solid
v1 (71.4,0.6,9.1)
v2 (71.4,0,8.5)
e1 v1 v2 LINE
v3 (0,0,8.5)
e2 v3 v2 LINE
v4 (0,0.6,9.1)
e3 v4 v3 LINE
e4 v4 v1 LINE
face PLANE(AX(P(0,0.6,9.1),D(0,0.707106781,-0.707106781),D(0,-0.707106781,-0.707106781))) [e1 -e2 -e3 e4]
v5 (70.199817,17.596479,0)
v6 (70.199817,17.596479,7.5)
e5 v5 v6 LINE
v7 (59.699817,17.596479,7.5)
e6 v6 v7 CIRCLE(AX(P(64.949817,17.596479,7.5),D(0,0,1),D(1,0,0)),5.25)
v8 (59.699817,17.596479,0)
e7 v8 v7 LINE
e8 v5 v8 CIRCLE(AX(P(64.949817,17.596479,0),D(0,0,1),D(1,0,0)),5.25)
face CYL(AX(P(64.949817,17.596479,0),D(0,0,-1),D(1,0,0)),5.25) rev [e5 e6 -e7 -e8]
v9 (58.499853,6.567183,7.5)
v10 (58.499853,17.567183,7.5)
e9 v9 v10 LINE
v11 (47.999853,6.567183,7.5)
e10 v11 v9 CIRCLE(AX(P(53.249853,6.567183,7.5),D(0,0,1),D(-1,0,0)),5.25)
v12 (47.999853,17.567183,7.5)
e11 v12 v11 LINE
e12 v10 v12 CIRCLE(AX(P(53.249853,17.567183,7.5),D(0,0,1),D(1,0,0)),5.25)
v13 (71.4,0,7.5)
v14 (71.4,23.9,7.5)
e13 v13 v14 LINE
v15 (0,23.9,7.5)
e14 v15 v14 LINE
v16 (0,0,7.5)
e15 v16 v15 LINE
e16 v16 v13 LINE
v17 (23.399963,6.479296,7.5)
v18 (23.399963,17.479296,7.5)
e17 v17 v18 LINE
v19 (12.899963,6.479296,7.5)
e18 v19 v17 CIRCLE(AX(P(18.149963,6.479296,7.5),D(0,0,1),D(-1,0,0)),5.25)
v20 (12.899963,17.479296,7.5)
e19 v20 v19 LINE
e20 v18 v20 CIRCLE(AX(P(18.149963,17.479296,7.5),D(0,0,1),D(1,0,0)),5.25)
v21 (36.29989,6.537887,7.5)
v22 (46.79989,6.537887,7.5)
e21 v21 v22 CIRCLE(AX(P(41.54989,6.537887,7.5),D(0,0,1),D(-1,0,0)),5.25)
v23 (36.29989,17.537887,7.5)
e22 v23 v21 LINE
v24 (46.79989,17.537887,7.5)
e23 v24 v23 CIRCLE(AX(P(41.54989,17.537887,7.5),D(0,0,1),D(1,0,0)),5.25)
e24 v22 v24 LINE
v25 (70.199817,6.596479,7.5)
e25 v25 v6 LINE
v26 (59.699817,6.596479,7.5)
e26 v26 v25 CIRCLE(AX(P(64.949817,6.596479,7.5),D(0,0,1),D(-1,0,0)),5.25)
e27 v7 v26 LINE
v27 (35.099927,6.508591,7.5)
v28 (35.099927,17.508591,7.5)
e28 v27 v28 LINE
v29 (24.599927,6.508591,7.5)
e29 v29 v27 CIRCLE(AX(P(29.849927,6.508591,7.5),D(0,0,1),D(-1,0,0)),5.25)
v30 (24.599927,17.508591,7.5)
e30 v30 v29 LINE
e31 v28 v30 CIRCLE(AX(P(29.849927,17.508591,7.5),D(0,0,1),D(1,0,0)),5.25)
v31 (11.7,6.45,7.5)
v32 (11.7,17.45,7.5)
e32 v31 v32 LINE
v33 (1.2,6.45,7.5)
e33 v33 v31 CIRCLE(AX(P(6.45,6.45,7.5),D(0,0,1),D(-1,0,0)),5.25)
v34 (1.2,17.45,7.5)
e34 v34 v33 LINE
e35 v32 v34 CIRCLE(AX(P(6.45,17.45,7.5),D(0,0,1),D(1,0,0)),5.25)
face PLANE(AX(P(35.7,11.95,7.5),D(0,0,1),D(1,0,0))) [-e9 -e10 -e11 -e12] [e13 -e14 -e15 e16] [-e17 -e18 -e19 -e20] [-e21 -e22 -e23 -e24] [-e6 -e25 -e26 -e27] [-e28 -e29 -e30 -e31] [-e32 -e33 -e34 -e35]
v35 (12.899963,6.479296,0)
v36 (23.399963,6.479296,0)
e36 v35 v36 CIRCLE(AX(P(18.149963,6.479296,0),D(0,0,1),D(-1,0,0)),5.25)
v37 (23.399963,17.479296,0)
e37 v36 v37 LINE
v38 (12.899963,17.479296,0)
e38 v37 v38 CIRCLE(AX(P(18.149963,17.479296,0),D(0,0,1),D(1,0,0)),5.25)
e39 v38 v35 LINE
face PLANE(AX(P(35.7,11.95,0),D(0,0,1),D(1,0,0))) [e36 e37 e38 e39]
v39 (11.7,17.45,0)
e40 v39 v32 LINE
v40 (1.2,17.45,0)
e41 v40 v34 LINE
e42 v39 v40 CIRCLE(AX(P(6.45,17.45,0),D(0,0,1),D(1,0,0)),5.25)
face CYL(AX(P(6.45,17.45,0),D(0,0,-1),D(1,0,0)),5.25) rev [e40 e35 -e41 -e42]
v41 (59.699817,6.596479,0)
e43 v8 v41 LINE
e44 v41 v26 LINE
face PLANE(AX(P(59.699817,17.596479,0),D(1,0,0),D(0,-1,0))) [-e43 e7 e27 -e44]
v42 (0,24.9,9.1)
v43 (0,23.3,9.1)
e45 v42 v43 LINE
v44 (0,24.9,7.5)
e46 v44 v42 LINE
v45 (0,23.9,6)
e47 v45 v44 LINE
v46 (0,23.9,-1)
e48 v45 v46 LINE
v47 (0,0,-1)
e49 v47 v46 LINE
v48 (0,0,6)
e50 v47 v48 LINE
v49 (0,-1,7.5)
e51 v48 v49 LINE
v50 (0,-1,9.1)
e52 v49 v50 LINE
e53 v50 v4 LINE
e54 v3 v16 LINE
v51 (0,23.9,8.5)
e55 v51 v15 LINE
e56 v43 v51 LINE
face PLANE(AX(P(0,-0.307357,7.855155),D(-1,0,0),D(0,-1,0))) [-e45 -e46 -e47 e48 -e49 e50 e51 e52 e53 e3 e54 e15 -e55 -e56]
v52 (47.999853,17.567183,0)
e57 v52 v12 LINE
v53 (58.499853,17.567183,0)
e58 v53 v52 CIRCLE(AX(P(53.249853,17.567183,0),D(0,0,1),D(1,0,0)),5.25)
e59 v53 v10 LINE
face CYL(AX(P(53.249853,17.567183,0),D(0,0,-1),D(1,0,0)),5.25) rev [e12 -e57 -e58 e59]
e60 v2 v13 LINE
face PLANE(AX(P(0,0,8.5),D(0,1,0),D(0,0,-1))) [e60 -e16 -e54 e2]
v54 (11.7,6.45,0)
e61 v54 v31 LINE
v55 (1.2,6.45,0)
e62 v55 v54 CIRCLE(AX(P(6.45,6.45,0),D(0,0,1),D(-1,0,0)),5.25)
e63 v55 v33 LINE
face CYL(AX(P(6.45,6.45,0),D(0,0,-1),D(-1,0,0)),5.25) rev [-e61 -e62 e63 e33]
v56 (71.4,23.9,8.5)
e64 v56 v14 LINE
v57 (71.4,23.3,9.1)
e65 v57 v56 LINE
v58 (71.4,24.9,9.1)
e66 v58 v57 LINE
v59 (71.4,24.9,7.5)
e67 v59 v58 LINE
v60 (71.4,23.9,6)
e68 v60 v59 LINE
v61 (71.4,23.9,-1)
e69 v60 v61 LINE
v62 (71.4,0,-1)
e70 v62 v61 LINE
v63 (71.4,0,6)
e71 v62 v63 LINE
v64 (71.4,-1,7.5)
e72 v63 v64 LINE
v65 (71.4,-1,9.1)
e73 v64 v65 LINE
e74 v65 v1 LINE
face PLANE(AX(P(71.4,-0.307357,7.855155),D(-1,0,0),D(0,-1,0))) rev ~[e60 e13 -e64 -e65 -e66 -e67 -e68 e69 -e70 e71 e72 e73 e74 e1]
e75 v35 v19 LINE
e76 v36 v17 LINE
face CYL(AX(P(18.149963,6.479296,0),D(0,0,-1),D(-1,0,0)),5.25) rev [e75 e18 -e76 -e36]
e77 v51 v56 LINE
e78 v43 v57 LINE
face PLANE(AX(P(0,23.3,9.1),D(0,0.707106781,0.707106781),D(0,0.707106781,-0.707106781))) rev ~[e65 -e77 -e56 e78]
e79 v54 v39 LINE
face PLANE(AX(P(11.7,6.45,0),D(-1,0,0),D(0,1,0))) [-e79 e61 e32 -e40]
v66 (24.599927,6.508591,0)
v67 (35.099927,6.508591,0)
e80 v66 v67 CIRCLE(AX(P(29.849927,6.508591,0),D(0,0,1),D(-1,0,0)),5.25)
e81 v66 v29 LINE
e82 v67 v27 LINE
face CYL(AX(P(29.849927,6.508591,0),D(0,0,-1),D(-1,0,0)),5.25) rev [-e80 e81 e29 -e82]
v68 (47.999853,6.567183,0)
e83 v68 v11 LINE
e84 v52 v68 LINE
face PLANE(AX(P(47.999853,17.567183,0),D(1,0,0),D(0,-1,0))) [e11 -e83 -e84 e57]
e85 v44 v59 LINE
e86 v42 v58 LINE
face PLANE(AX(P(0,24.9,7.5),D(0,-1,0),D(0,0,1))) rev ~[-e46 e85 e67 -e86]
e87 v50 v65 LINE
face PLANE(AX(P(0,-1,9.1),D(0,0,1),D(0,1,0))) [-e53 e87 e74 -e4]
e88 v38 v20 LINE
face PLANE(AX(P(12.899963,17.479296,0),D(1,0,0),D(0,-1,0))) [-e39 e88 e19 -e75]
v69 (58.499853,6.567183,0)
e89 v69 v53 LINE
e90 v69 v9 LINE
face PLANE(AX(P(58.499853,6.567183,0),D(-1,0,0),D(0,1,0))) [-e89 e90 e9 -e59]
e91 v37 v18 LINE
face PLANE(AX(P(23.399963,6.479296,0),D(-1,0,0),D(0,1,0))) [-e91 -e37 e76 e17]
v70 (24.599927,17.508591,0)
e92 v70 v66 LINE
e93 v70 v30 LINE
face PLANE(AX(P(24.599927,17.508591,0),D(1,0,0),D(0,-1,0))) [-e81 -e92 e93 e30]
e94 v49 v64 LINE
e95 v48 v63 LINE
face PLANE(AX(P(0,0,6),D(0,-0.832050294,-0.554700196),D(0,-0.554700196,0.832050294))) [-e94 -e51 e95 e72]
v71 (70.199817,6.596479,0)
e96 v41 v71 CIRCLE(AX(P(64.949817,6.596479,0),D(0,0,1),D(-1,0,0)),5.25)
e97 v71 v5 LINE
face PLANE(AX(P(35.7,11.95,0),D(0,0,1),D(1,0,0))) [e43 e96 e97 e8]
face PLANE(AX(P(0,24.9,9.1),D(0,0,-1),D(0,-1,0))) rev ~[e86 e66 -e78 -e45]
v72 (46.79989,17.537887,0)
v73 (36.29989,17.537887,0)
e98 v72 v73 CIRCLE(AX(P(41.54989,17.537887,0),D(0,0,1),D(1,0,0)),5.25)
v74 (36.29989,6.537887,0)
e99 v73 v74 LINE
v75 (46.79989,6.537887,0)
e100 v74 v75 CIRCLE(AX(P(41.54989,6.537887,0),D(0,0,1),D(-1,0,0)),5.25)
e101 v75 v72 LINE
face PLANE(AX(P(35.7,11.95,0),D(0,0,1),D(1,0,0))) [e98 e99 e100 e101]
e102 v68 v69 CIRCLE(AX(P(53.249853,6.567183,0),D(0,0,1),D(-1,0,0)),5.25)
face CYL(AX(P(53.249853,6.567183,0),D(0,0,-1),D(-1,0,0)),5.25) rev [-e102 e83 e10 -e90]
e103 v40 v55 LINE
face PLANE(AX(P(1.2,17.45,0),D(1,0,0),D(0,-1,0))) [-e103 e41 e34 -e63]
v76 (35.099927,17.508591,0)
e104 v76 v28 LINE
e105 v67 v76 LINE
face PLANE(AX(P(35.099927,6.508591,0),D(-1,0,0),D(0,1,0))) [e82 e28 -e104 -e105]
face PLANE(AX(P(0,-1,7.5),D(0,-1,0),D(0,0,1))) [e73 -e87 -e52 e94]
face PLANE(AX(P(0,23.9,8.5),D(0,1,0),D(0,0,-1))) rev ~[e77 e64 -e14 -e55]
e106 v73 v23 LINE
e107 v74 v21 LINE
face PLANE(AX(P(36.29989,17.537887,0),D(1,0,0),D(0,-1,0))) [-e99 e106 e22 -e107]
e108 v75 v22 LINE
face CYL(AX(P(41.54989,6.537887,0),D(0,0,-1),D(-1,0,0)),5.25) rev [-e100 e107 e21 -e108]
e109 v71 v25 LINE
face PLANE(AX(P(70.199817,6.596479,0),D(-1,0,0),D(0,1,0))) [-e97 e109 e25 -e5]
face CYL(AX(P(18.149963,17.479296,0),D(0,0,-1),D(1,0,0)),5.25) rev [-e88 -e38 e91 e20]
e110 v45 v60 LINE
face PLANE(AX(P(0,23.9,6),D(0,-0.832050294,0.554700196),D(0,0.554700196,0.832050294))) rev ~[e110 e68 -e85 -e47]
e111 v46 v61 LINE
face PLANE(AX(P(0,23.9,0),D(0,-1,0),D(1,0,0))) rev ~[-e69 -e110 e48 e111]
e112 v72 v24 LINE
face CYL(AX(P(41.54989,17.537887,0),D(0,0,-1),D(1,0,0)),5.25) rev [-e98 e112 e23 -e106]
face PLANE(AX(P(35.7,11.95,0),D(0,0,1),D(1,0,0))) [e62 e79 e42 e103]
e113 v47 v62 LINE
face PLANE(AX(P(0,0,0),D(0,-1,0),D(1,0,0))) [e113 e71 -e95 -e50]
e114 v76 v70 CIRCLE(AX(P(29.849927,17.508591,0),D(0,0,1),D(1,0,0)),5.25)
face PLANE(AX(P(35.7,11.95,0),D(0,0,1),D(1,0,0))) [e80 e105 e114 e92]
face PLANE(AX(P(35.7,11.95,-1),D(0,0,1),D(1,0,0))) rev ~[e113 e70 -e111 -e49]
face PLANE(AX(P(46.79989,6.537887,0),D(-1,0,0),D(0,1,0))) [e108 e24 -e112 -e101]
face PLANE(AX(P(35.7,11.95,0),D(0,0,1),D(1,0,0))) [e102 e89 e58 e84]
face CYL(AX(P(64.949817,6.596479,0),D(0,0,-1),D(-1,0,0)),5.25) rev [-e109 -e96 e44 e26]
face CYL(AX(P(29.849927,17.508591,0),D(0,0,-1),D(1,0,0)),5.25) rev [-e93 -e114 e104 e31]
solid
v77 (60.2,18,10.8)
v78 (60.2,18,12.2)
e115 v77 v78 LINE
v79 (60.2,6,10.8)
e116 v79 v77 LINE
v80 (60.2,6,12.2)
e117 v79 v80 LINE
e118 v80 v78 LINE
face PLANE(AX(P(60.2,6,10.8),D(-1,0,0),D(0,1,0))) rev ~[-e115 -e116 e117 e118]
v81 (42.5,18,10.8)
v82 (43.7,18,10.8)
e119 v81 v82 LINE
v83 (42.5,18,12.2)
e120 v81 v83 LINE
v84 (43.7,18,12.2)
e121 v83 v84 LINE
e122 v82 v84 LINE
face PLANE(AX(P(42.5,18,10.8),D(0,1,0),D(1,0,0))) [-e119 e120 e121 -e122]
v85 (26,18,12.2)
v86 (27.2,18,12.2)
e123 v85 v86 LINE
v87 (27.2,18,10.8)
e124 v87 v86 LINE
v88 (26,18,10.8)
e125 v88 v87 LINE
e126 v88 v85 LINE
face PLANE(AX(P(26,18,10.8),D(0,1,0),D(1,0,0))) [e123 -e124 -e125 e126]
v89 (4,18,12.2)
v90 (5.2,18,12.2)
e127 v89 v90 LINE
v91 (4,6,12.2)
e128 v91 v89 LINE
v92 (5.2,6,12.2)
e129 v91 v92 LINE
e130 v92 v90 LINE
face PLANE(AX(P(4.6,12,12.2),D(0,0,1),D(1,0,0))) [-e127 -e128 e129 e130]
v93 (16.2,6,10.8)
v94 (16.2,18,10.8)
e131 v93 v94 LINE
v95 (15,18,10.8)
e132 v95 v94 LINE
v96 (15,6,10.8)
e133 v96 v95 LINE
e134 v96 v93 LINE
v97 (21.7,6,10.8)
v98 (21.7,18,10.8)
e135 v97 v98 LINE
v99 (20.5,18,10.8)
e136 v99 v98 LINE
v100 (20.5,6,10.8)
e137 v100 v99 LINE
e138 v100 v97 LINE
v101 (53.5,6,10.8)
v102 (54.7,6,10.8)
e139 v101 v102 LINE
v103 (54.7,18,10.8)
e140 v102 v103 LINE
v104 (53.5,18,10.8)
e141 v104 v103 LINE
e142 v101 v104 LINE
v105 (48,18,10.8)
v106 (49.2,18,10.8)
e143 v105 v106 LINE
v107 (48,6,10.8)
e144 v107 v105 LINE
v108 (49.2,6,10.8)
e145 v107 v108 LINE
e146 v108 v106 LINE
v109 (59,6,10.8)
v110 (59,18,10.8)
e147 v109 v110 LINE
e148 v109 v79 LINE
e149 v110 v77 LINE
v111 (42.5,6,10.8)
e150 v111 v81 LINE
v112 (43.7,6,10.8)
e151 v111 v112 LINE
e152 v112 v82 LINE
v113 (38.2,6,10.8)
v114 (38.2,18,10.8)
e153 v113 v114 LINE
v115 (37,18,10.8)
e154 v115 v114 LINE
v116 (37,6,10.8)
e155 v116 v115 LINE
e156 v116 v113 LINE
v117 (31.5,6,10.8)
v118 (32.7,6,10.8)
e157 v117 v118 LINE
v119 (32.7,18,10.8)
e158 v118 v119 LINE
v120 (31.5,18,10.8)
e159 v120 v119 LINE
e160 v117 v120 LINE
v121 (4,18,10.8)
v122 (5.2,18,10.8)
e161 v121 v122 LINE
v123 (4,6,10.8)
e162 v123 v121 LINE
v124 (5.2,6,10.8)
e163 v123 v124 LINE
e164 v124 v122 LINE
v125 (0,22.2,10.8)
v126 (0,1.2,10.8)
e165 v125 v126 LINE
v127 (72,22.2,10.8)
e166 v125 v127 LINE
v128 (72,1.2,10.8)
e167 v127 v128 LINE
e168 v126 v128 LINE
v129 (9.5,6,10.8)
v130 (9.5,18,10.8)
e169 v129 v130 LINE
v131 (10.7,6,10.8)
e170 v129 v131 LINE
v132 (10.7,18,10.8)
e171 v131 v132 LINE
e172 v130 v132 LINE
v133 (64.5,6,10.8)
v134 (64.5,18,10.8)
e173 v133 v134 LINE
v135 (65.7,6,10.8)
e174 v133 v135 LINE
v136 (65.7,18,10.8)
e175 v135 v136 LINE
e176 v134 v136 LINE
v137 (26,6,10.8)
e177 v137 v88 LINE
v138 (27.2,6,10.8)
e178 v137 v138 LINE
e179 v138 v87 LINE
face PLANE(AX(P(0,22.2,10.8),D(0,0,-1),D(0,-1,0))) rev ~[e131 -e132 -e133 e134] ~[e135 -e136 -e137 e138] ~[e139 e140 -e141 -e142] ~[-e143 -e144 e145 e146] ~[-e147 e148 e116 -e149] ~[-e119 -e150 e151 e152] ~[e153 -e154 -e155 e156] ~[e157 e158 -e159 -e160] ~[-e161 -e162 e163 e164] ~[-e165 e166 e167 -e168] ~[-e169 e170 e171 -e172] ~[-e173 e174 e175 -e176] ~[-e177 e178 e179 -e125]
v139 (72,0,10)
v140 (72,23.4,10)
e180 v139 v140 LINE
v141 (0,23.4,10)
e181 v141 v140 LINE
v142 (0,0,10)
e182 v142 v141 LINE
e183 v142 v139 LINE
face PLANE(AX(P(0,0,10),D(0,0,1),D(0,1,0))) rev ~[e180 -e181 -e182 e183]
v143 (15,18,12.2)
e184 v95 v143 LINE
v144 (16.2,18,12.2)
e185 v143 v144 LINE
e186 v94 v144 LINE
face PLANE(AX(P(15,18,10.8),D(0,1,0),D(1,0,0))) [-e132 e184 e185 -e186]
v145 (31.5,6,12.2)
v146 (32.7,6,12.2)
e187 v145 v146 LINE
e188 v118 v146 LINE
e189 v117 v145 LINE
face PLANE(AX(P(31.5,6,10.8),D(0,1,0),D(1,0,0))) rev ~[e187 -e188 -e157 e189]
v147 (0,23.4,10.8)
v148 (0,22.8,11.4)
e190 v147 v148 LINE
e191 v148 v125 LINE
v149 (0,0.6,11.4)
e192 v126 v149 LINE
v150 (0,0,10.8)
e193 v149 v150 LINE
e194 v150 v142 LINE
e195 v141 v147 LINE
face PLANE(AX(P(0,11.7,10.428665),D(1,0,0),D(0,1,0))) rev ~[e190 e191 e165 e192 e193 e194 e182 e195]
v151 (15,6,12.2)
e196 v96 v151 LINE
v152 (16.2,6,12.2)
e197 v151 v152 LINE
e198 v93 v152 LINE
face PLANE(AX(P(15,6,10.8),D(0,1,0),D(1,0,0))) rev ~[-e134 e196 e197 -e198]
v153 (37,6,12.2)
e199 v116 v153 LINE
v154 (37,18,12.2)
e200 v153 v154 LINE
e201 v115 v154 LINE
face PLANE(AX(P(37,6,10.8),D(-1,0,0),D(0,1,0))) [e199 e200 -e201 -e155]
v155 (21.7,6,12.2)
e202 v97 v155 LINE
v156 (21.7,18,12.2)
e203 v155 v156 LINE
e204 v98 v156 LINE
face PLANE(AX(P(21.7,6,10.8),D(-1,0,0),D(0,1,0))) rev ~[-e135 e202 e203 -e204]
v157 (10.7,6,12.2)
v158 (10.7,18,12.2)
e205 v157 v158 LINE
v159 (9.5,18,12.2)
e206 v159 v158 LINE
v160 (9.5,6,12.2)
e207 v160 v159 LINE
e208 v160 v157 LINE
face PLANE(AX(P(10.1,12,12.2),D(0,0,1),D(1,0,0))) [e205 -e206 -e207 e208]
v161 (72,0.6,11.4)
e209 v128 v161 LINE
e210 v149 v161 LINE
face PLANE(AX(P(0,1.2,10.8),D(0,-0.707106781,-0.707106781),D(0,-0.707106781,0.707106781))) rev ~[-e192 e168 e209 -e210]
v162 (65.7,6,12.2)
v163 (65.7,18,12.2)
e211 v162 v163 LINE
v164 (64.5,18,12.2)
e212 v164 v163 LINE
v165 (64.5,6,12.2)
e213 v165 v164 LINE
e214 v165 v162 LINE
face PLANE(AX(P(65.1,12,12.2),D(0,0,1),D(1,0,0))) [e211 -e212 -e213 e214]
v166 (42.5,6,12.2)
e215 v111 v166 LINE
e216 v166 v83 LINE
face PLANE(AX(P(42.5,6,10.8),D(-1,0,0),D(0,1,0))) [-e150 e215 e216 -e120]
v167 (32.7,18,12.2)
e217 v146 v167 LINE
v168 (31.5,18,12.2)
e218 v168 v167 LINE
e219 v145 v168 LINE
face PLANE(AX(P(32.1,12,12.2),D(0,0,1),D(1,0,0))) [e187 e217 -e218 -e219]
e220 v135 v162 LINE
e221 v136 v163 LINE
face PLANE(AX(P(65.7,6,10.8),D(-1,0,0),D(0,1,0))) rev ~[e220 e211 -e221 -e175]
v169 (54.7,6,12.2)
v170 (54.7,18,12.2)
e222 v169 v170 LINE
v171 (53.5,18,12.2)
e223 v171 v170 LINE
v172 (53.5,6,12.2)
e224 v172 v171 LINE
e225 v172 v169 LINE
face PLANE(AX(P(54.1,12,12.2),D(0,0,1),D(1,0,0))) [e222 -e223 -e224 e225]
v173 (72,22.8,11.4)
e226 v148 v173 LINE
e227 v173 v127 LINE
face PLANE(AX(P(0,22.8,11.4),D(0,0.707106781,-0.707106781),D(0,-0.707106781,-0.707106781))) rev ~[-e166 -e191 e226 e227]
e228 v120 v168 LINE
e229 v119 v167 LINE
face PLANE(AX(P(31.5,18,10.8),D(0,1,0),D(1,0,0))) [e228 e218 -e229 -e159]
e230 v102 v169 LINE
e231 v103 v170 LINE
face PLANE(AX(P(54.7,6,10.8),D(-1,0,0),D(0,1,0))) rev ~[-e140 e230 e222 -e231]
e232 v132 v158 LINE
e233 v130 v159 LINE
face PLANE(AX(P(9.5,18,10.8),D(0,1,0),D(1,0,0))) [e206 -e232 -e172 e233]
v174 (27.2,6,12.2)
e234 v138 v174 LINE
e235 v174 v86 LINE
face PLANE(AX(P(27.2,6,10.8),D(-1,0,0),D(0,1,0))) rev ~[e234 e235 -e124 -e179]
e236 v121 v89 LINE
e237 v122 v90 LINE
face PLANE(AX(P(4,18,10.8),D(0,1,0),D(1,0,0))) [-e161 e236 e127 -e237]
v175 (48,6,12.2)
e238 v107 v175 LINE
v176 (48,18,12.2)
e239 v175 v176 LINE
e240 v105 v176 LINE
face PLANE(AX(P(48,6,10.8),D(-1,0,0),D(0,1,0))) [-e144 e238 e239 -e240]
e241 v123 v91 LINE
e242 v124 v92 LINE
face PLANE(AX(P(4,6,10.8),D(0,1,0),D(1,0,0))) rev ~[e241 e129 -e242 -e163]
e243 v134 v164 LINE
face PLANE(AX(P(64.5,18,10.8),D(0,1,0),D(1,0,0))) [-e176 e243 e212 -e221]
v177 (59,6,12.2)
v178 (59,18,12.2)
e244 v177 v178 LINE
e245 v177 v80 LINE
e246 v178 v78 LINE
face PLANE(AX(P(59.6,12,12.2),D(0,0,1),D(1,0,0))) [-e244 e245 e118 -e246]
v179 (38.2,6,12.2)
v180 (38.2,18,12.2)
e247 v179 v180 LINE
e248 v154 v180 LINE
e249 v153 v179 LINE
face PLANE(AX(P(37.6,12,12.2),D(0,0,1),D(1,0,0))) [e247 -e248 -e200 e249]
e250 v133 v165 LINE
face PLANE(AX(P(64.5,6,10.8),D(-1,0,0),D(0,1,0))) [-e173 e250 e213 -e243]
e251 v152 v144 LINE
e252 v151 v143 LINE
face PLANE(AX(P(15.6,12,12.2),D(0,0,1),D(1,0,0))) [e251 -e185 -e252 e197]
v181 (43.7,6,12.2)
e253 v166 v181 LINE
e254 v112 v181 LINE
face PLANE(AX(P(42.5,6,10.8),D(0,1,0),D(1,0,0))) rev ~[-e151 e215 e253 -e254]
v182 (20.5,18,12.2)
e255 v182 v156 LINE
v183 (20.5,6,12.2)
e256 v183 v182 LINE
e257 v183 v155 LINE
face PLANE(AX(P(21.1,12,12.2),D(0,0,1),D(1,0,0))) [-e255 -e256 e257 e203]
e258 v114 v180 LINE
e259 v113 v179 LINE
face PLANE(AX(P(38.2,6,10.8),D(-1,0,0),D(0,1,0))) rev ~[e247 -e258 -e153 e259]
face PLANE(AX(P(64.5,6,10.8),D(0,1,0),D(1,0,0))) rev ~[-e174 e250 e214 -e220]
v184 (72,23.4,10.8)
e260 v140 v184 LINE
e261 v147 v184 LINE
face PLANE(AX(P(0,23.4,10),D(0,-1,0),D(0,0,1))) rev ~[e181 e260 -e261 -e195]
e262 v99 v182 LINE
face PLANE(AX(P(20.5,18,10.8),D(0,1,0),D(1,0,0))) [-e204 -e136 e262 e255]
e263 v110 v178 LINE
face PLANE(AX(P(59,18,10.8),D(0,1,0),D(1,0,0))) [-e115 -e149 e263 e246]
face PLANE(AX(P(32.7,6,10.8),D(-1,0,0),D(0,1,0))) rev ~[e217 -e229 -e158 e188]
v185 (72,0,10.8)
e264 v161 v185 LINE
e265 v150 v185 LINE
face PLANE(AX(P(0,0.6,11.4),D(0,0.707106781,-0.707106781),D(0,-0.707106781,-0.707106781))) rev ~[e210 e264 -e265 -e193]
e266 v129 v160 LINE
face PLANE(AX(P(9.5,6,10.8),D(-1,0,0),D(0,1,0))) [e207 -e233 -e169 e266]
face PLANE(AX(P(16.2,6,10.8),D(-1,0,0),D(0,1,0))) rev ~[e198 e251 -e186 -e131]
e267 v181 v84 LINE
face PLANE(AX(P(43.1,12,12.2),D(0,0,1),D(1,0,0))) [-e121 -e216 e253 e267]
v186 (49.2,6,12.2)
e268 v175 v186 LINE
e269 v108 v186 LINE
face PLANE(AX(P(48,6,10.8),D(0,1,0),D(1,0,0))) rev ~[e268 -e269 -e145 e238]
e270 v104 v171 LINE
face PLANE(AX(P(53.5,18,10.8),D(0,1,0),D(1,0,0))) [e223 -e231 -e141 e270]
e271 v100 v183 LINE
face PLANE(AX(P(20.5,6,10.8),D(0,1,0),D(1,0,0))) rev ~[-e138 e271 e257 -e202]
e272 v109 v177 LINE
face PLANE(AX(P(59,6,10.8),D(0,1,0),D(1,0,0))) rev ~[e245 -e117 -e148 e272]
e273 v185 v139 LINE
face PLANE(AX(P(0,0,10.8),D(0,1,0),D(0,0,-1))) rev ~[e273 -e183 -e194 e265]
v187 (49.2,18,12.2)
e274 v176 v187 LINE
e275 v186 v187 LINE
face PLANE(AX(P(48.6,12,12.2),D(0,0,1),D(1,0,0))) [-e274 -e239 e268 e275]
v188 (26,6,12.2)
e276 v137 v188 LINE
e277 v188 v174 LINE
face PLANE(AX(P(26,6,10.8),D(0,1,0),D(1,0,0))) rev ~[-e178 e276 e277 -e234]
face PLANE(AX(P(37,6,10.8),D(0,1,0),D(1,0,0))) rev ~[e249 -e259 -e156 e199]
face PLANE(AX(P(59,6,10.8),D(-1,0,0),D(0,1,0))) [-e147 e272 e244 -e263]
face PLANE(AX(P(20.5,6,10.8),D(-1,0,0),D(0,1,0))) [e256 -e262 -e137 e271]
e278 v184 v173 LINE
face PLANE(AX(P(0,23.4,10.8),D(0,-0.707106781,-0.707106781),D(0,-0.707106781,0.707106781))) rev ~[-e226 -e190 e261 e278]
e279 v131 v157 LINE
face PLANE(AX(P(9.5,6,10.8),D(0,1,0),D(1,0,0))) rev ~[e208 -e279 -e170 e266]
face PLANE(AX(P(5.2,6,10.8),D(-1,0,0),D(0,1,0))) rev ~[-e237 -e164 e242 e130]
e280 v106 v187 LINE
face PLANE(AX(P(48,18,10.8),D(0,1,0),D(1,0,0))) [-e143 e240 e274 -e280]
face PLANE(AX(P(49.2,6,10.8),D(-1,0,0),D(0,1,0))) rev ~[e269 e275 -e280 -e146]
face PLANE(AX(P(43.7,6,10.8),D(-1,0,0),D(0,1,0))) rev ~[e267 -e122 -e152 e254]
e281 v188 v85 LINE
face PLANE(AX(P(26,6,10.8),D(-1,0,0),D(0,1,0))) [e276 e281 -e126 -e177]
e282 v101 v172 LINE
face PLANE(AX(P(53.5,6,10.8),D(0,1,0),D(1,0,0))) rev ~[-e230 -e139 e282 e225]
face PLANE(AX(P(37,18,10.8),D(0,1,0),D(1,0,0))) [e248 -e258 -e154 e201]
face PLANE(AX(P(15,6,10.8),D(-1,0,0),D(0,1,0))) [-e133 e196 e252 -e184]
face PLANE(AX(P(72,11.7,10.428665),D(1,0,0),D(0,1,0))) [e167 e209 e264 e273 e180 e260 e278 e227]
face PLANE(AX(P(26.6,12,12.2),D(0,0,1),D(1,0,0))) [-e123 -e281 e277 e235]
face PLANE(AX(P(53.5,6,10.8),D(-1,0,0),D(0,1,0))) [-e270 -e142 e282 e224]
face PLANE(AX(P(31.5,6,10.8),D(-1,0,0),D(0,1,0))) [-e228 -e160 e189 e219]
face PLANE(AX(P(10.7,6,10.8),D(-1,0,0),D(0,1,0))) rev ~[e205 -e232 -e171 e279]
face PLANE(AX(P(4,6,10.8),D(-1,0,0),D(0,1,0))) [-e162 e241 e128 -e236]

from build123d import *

# Parameters (mm, degrees)
SKETCH_W     = 71.4
SKETCH_H     = 23.9
PAD_DEPTH    = 7.5
SKETCH001_W  = 71.4
SKETCH001_H  = 23.9
PAD001_DEPTH = 1
PAD002_DEPTH = 71.4
PAD003_DEPTH = 72
SKETCH004_W  = 1.2
SKETCH004_H  = 12
PAD004_DEPTH = 1.4


with BuildPart() as tarto:
    # Sketch → Pad (new body)
    with BuildSketch(Plane.XY):
        with Locations((35.7, 11.95)):
            Rectangle(SKETCH_W, SKETCH_H)
        with BuildLine():
            ThreePointArc((11.7, 17.45), (6.45, 22.7), (1.2, 17.45))
            Line((1.2, 17.45), (1.2, 6.45))
            ThreePointArc((1.2, 6.45), (6.45, 1.2), (11.7, 6.45))
            Line((11.7, 6.45), (11.7, 17.45))
        make_face(mode=Mode.SUBTRACT)
        with BuildLine():
            ThreePointArc((23.399963, 17.479296), (18.149963, 22.729296), (12.899963, 17.479296))
            Line((12.899963, 17.479296), (12.899963, 6.479296))
            ThreePointArc((12.899963, 6.479296), (18.149963, 1.229296), (23.399963, 6.479296))
            Line((23.399963, 6.479296), (23.399963, 17.479296))
        make_face(mode=Mode.SUBTRACT)
        with BuildLine():
            ThreePointArc((35.099927, 17.508591), (29.849927, 22.758591), (24.599927, 17.508591))
            Line((24.599927, 17.508591), (24.599927, 6.508591))
            ThreePointArc((24.599927, 6.508591), (29.849927, 1.258591), (35.099927, 6.508591))
            Line((35.099927, 6.508591), (35.099927, 17.508591))
        make_face(mode=Mode.SUBTRACT)
        with BuildLine():
            ThreePointArc((46.79989, 17.537887), (41.54989, 22.787887), (36.29989, 17.537887))
            Line((36.29989, 17.537887), (36.29989, 6.537887))
            ThreePointArc((36.29989, 6.537887), (41.54989, 1.287887), (46.79989, 6.537887))
            Line((46.79989, 6.537887), (46.79989, 17.537887))
        make_face(mode=Mode.SUBTRACT)
        with BuildLine():
            ThreePointArc((58.499853, 17.567183), (53.249853, 22.817183), (47.999853, 17.567183))
            Line((47.999853, 17.567183), (47.999853, 6.567183))
            ThreePointArc((47.999853, 6.567183), (53.249853, 1.317183), (58.499853, 6.567183))
            Line((58.499853, 6.567183), (58.499853, 17.567183))
        make_face(mode=Mode.SUBTRACT)
        with BuildLine():
            ThreePointArc((70.199817, 17.596479), (64.949817, 22.846479), (59.699817, 17.596479))
            Line((59.699817, 17.596479), (59.699817, 6.596479))
            ThreePointArc((59.699817, 6.596479), (64.949817, 1.346479), (70.199817, 6.596479))
            Line((70.199817, 6.596479), (70.199817, 17.596479))
        make_face(mode=Mode.SUBTRACT)
    extrude(amount=PAD_DEPTH)

    # Sketch001 → Pad001 (join)
    with BuildSketch(Plane.XY):
        with Locations((35.7, 11.95)):
            Rectangle(SKETCH001_W, SKETCH001_H)
    extrude(amount=-PAD001_DEPTH)

    # Sketch002 → Pad002 (join)
    with BuildSketch(Plane.YZ):
        Polygon((0, 6), (-1, 7.5), (-1, 9.1), (0.6, 9.1), (0, 8.5), align=None)
        Polygon((23.9, 6), (24.9, 7.5), (24.9, 9.1), (23.3, 9.1), (23.9, 8.5), align=None)
    extrude(amount=PAD002_DEPTH)


with BuildPart() as fedel:
    # Sketch003 → Pad003 (new body)
    with BuildSketch(Plane.YZ):
        Polygon((0, 10), (23.4, 10), (23.4, 10.8), (22.8, 11.4), (22.2, 10.8), (1.2, 10.8), (0.6, 11.4), (0, 10.8), align=None)
    extrude(amount=PAD003_DEPTH)

    # Sketch004 → Pad004 (join)
    with BuildSketch(Plane.XY.offset(10.8)):
        with Locations((4.6, 12)):
            Rectangle(SKETCH004_W, SKETCH004_H)
        with Locations((10.1, 12)):
            Rectangle(SKETCH004_W, SKETCH004_H)
        with Locations((15.6, 12)):
            Rectangle(SKETCH004_W, SKETCH004_H)
        with Locations((21.1, 12)):
            Rectangle(SKETCH004_W, SKETCH004_H)
        with Locations((26.6, 12)):
            Rectangle(SKETCH004_W, SKETCH004_H)
        with Locations((32.1, 12)):
            Rectangle(SKETCH004_W, SKETCH004_H)
        with Locations((37.6, 12)):
            Rectangle(SKETCH004_W, SKETCH004_H)
        with Locations((43.1, 12)):
            Rectangle(SKETCH004_W, SKETCH004_H)
        with Locations((48.6, 12)):
            Rectangle(SKETCH004_W, SKETCH004_H)
        with Locations((54.1, 12)):
            Rectangle(SKETCH004_W, SKETCH004_H)
        with Locations((59.6, 12)):
            Rectangle(SKETCH004_W, SKETCH004_H)
        with Locations((65.1, 12)):
            Rectangle(SKETCH004_W, SKETCH004_H)
    extrude(amount=PAD004_DEPTH)


solid = Compound([tarto.part, fedel.part])
